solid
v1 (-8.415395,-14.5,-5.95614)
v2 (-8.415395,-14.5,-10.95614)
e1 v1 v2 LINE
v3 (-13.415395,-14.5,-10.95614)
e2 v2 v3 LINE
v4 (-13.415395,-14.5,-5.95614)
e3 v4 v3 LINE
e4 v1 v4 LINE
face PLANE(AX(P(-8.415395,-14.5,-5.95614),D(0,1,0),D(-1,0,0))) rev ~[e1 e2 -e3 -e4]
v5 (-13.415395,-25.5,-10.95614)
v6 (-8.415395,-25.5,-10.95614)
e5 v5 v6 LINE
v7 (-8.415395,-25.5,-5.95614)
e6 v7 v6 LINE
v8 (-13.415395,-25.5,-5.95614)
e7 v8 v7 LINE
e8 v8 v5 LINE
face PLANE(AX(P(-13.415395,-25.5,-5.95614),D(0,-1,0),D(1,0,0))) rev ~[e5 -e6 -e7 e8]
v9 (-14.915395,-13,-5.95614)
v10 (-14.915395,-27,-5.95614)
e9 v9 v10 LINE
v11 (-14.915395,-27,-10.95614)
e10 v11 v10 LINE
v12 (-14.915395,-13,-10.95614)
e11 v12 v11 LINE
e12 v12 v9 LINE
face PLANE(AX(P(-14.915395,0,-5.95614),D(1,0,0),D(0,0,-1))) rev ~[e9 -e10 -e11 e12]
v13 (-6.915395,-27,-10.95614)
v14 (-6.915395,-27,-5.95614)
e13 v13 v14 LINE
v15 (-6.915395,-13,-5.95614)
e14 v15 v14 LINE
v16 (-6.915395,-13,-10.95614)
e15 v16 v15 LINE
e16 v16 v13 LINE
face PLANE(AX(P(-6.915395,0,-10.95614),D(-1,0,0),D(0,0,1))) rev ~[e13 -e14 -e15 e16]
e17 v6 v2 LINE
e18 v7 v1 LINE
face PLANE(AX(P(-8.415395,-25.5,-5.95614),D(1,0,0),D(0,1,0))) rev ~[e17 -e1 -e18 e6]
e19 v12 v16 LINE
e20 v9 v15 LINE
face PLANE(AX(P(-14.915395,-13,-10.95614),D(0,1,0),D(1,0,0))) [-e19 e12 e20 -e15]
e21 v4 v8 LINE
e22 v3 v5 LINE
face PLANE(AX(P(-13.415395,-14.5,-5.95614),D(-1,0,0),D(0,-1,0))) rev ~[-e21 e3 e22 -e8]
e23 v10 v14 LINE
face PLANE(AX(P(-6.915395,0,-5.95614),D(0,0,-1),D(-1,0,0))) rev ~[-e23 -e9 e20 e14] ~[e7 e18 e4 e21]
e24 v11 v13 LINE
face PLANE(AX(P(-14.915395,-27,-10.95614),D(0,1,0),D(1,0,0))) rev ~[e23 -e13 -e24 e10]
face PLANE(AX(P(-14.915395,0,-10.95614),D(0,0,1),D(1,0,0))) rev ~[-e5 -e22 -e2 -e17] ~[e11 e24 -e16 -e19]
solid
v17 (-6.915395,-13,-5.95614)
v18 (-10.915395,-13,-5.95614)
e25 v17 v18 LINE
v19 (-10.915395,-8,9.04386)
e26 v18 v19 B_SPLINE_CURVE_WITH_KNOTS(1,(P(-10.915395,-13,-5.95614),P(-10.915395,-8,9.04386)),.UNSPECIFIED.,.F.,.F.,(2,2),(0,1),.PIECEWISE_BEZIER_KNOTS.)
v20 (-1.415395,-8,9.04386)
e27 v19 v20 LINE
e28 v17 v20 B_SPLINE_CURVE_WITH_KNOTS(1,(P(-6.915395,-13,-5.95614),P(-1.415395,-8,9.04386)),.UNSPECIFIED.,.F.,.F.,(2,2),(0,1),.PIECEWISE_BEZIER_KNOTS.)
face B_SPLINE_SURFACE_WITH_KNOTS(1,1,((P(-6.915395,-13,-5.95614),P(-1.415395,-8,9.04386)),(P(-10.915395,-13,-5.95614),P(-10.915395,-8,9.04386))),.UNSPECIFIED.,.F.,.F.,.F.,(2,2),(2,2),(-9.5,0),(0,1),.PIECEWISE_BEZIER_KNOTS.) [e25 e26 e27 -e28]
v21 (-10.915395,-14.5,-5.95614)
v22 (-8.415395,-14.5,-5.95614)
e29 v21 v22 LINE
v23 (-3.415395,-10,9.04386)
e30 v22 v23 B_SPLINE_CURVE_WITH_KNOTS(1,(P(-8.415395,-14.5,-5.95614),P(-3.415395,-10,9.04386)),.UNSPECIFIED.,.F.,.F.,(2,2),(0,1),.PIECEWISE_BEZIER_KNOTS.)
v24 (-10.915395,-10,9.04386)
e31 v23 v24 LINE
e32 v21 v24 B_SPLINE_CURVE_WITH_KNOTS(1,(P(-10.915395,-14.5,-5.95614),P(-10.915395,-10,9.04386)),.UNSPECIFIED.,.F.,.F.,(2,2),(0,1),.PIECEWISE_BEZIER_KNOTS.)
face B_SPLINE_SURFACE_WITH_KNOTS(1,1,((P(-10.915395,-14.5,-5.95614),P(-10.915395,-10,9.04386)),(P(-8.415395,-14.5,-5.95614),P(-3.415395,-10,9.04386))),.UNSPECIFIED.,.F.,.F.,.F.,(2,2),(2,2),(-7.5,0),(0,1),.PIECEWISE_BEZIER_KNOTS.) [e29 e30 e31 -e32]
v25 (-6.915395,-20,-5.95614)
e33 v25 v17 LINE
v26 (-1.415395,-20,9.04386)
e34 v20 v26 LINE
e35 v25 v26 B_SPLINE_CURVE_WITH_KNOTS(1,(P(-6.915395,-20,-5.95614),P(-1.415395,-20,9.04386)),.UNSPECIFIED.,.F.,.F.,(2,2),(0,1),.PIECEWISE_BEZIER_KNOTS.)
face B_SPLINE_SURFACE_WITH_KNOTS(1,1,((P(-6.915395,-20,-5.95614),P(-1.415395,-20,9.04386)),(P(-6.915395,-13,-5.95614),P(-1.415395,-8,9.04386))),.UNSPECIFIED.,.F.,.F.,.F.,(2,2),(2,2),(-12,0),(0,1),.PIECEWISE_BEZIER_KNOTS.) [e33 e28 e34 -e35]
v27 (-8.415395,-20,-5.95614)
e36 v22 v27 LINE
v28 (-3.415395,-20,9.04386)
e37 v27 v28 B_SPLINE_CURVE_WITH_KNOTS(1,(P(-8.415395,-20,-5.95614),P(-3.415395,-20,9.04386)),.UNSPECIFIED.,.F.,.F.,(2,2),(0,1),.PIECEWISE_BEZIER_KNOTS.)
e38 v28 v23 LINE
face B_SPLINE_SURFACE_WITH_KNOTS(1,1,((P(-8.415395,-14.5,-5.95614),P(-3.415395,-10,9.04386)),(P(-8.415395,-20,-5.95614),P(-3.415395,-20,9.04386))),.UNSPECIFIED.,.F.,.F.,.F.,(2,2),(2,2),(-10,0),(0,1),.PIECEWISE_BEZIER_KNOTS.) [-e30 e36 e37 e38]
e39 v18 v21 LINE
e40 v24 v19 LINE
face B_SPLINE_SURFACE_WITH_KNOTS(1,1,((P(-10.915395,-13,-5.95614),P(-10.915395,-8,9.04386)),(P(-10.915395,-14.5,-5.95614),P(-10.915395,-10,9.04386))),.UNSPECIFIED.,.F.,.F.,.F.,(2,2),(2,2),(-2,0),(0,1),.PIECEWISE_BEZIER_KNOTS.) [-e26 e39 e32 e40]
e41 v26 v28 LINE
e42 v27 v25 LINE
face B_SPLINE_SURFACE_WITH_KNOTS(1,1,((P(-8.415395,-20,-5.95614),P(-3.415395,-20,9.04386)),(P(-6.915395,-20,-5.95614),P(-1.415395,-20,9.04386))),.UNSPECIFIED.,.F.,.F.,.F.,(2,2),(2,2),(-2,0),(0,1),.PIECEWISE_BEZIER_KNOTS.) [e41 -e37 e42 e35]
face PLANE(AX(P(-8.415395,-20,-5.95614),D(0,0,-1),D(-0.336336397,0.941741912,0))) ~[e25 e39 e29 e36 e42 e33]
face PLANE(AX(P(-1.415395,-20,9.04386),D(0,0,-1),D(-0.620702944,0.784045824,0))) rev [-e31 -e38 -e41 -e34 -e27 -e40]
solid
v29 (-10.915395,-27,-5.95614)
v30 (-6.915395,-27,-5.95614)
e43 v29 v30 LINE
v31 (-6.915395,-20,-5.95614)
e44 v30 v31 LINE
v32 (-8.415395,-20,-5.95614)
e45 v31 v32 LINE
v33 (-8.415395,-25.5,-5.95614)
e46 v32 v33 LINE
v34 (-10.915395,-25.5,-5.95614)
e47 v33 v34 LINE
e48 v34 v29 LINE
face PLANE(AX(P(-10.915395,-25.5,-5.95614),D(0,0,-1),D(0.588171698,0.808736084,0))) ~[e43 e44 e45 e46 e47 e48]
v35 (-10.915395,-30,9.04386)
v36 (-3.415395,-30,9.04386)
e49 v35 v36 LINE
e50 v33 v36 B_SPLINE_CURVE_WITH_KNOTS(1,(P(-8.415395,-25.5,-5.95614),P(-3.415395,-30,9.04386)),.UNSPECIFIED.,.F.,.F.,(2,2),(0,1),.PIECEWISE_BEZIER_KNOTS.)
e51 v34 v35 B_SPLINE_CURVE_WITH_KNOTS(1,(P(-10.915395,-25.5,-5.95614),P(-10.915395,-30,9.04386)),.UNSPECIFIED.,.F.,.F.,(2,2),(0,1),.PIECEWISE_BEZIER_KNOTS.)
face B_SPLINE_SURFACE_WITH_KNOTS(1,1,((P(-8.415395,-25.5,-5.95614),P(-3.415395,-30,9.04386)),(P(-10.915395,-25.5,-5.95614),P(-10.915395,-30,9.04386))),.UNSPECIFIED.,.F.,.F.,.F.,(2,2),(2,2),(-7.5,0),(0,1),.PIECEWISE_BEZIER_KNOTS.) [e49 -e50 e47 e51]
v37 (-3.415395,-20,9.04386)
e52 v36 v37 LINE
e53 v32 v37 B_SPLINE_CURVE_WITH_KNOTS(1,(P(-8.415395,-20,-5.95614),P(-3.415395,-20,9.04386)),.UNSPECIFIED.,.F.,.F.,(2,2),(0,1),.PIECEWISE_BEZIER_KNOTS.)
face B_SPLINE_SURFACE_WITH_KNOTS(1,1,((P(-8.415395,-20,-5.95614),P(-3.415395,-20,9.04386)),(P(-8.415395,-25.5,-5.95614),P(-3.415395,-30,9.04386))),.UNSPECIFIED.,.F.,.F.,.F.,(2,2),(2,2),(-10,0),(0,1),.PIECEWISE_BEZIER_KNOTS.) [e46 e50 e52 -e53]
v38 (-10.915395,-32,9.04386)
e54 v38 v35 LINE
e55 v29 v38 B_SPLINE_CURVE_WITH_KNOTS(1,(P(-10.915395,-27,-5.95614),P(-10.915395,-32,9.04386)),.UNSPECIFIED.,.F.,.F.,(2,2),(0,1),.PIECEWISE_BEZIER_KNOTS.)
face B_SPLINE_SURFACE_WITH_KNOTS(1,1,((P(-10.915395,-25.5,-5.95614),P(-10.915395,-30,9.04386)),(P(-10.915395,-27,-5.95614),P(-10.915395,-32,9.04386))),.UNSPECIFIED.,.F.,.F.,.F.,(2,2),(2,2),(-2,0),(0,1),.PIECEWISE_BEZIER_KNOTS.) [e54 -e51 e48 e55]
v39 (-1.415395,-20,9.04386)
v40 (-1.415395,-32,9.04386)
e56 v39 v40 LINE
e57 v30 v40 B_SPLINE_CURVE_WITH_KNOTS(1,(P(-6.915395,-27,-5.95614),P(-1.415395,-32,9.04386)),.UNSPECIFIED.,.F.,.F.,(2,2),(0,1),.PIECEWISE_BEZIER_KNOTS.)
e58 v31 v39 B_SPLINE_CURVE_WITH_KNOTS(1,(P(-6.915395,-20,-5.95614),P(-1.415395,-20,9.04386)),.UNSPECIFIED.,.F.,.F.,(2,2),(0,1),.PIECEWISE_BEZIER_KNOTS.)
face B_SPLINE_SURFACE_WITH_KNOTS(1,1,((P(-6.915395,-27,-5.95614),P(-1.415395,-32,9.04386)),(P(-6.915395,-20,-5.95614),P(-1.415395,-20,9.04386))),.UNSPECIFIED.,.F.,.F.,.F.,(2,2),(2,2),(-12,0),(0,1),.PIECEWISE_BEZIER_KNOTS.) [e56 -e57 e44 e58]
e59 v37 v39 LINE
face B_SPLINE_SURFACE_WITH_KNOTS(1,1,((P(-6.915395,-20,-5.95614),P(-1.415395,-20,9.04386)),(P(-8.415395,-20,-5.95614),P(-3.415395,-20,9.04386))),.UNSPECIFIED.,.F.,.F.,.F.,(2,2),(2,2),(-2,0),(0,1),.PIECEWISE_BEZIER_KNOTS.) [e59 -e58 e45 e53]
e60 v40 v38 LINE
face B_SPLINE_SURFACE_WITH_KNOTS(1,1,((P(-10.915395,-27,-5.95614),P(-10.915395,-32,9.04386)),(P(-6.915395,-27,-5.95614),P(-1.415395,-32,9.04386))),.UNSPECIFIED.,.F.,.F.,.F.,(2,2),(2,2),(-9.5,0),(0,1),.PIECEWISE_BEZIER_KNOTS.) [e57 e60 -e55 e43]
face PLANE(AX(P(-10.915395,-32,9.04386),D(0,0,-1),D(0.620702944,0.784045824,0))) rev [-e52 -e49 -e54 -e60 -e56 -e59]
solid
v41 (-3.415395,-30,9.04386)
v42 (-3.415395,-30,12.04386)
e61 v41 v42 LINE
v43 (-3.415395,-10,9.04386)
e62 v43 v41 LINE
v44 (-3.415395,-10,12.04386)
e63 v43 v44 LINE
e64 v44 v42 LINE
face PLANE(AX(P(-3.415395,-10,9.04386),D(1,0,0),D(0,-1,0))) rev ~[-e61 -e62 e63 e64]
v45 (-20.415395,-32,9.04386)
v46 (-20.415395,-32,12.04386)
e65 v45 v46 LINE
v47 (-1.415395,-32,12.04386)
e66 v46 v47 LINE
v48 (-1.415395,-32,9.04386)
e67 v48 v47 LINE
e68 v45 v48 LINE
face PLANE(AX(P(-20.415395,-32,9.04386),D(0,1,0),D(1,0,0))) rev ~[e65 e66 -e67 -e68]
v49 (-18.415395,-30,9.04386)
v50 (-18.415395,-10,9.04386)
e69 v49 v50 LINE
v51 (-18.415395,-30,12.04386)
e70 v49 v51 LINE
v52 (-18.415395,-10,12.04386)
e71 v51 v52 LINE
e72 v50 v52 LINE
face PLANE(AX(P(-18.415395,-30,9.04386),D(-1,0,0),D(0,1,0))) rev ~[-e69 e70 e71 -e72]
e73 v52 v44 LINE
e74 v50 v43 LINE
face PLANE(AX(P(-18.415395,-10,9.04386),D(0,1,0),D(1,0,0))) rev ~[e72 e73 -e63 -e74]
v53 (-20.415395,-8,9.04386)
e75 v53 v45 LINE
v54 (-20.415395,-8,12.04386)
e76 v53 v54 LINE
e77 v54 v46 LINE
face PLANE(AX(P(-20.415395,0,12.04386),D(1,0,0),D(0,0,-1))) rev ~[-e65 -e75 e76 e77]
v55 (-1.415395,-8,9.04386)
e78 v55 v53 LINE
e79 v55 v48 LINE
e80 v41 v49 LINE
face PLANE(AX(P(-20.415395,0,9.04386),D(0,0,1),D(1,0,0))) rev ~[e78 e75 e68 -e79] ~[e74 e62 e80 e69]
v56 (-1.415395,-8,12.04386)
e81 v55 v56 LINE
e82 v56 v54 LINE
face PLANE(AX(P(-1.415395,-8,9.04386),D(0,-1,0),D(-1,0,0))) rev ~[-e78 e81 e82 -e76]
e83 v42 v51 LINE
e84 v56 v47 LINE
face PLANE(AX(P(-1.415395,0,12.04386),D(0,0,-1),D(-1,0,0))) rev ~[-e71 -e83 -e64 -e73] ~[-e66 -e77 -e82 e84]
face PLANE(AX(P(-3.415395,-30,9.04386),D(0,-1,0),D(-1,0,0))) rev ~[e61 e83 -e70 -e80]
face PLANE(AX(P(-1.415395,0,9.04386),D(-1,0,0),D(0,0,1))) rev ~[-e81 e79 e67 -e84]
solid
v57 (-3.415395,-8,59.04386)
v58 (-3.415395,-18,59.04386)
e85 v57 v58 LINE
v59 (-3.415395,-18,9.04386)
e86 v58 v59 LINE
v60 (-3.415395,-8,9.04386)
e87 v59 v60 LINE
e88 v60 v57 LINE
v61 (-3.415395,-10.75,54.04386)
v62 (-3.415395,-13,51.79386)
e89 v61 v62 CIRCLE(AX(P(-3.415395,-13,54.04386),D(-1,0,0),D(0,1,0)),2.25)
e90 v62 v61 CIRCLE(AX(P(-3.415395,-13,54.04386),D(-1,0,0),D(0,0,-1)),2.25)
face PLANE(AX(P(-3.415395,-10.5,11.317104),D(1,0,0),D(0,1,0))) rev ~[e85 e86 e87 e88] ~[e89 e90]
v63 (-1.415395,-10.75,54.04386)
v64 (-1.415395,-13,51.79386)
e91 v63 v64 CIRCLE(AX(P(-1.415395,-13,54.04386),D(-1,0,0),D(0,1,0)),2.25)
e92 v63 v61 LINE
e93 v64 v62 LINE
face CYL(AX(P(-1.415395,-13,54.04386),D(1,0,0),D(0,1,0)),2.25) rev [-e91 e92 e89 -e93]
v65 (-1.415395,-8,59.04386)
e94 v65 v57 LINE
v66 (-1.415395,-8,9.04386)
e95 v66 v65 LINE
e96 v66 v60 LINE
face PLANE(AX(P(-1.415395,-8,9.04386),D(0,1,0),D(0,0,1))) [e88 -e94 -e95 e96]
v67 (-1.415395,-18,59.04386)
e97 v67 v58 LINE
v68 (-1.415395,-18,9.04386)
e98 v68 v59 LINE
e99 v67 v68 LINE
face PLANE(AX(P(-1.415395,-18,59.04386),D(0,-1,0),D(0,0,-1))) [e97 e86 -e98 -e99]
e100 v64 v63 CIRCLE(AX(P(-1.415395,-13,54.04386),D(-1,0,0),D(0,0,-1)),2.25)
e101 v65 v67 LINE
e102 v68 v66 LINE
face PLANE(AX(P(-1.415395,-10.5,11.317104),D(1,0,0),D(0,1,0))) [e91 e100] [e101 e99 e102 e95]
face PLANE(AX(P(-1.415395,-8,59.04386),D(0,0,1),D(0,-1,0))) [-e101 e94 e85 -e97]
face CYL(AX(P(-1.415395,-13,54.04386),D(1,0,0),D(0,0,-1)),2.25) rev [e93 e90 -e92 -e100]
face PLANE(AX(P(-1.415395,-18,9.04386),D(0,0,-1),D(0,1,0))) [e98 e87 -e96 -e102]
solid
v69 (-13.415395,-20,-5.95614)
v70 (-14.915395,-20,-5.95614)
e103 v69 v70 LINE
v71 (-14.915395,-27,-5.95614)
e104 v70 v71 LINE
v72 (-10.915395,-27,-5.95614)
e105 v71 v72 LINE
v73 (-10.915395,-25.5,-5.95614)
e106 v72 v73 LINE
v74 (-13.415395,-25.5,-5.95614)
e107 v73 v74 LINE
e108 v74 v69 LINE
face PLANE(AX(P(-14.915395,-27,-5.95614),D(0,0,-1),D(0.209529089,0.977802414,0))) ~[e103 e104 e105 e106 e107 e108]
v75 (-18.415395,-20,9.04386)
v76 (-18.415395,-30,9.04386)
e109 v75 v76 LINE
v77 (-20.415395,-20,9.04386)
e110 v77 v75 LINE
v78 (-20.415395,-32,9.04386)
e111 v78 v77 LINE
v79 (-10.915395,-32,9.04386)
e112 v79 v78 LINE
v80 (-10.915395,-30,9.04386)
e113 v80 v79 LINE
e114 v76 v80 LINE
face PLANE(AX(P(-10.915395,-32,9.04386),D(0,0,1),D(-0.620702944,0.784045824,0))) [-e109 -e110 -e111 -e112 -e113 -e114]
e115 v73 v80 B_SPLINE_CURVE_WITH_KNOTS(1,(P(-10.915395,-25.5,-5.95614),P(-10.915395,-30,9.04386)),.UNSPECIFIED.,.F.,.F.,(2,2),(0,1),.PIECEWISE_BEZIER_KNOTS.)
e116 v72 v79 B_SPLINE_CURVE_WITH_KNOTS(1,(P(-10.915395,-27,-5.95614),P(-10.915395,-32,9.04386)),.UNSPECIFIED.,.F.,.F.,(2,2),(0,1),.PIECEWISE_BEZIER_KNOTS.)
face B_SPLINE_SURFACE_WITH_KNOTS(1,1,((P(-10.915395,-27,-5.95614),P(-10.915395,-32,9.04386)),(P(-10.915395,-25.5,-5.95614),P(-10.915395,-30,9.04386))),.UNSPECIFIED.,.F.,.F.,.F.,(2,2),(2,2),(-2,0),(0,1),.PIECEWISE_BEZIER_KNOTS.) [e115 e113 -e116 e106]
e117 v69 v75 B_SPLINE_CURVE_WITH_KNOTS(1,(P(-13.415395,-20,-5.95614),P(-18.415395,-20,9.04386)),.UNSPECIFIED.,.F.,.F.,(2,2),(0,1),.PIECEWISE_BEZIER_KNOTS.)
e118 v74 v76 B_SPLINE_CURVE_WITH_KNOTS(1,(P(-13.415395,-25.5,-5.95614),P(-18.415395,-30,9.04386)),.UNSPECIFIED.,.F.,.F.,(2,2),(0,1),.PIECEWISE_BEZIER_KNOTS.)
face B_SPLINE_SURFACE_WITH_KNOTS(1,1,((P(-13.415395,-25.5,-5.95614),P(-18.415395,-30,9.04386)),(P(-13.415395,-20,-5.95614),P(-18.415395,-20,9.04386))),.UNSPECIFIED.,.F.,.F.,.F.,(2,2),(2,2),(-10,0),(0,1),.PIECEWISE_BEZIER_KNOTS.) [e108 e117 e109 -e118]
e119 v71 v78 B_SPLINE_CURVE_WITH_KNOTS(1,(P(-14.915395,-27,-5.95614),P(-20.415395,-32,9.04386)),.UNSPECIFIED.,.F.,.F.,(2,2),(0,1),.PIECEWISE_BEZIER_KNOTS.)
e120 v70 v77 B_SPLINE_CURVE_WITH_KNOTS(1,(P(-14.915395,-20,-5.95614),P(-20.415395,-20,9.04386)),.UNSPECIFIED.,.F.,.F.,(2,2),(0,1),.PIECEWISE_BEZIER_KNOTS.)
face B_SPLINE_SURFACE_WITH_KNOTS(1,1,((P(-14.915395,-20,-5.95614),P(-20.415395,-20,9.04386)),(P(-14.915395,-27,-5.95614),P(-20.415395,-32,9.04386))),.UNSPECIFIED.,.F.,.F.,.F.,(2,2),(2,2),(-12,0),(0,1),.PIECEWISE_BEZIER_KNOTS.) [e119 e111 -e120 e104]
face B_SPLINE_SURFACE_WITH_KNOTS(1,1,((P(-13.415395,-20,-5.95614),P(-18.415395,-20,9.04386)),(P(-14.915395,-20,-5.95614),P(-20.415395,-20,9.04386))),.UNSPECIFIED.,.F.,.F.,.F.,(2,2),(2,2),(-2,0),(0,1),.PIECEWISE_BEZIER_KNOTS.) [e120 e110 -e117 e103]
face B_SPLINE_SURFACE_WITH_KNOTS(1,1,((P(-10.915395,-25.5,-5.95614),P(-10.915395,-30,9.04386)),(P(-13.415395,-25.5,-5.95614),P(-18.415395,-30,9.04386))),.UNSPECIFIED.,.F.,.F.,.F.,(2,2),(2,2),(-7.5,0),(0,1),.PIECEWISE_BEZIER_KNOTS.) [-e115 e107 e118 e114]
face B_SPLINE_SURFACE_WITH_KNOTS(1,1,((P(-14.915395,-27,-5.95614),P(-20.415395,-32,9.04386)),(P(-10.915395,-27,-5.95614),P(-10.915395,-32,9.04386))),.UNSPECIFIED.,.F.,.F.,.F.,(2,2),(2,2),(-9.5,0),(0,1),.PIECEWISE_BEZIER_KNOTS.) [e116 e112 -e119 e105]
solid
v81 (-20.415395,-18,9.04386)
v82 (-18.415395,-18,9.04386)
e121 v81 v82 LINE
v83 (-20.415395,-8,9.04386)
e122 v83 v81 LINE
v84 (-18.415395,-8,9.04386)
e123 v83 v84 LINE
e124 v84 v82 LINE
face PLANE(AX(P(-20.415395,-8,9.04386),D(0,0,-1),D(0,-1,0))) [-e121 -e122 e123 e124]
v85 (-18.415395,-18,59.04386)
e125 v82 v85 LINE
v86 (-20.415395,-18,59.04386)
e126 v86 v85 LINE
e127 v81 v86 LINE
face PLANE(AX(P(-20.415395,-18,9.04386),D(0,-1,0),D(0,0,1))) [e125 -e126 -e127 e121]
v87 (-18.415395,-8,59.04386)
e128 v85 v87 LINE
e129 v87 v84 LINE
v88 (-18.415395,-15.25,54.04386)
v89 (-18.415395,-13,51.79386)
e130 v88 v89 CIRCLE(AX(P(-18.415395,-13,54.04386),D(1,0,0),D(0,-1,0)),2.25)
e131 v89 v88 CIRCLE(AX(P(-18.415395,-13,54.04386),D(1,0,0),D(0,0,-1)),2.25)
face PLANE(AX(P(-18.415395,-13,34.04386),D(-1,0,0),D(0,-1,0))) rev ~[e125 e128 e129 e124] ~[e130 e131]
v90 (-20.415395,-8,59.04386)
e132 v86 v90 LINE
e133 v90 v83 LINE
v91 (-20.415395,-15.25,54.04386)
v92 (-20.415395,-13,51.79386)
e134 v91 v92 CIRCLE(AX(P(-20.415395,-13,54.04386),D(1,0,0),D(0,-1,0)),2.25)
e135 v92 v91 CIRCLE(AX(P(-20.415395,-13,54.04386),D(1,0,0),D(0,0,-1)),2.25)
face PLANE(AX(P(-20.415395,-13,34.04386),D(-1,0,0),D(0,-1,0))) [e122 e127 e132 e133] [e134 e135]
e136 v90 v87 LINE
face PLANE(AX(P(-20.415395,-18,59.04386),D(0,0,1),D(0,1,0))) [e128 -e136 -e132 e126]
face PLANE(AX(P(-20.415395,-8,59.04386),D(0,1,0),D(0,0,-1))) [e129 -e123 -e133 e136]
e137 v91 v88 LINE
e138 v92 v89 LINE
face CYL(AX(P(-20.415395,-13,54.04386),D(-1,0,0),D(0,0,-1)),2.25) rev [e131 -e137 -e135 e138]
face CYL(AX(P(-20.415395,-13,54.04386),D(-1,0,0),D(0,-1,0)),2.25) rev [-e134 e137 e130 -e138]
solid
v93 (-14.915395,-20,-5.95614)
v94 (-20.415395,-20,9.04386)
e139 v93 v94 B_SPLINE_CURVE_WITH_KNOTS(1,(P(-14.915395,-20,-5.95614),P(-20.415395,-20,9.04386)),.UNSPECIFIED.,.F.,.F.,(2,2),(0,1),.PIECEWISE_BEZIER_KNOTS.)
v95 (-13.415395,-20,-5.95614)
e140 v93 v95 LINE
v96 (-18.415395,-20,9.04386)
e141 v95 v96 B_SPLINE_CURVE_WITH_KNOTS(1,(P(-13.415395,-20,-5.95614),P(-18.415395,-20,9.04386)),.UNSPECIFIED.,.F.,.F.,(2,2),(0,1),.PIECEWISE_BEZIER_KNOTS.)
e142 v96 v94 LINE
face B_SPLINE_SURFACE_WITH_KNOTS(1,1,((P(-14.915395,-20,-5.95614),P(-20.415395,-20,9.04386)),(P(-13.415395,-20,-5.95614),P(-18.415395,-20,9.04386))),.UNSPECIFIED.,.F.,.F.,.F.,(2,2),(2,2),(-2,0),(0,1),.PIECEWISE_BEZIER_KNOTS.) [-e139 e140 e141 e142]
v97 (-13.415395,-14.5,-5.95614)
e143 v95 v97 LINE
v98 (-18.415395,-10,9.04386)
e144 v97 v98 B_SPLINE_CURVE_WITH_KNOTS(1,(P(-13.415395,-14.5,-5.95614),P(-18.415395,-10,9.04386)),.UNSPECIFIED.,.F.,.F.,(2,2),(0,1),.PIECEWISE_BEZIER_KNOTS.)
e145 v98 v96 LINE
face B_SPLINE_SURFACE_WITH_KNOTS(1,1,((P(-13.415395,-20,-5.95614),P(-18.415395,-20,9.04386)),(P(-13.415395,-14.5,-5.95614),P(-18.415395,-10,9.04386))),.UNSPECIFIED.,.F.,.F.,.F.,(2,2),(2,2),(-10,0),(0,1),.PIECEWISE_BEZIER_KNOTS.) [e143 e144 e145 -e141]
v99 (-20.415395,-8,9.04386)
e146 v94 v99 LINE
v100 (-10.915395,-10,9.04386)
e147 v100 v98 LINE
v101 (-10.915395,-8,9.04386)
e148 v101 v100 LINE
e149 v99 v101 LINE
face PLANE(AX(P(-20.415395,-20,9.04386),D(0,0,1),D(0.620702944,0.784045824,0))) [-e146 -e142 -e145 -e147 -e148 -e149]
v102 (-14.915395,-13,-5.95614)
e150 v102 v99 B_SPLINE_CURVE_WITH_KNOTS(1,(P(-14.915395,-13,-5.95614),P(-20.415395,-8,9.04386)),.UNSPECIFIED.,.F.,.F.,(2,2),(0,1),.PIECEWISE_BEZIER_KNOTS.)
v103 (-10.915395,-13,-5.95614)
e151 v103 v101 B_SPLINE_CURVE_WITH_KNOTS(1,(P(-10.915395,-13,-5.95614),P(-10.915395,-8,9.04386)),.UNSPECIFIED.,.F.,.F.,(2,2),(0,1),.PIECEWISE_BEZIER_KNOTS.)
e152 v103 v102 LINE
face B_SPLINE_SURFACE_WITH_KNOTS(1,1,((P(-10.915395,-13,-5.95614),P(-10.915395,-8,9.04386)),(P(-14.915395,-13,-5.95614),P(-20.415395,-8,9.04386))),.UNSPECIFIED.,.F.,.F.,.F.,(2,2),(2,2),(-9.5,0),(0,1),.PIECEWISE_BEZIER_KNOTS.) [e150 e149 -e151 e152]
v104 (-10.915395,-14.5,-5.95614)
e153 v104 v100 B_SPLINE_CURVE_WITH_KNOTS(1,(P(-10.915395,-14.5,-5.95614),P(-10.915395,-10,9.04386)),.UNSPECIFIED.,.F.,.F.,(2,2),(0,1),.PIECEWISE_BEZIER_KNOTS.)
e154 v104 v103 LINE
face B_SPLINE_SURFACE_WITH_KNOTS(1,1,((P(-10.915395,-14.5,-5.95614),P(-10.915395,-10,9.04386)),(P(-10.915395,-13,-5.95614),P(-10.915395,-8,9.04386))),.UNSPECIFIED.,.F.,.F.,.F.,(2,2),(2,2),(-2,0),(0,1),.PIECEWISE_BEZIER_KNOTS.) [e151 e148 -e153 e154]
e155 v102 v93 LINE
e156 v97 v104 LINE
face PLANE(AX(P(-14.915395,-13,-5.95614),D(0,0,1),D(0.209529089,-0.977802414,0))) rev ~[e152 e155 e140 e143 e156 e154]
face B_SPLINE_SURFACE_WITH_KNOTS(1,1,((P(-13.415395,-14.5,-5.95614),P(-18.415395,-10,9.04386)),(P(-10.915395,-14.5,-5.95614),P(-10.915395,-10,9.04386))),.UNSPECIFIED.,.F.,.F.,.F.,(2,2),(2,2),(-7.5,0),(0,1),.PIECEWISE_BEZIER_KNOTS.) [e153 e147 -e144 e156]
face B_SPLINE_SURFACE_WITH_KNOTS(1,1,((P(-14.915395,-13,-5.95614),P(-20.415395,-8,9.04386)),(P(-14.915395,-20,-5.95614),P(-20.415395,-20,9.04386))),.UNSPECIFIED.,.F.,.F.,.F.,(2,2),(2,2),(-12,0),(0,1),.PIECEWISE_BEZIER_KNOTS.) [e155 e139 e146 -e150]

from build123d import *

# Parameters (mm, degrees)
F1_DEPTH  = 40
F3_W      = 8
F3_H      = 13
F4_DEPTH  = 25
F2_W      = 9.5
F2_H      = 8
F5_DEPTH  = 25
F7_DEPTH  = 25
F6_W      = 2.5
F6_H      = 5.5
F8_DEPTH  = 25
F13_W     = 5
F13_H     = 4.5464889724
F14_DEPTH = 2
F16_DEPTH = 2


with BuildPart() as f1:
    # F0 (on Front) → F1 (new body)
    with BuildSketch(Plane.XZ):
        Polygon((-1.4153950295, 12.043859912), (-20.4153950295, 12.043859912), (-20.4153950295, 9.043859912), (-10.9153950295, 9.043859912), (-1.4153950295, 9.043859912), align=None)
    extrude(amount=F1_DEPTH)

    # F2 (on face) → F5 (cut)
    with BuildSketch(Plane(origin=(0, 0, 9.043859912), x_dir=(1, 0, 0), z_dir=(0, 0, -1))):
        with Locations((-6.1653950295, 36)):
            Rectangle(F2_W, F2_H)
        with Locations((-15.6653950295, 36)):
            Rectangle(F2_W, F2_H)
        Polygon((-1.4153950295, 0), (-1.4153950295, 8), (-10.9153950295, 8), (-20.4153950295, 8), (-20.4153950295, 0), (-10.9153950295, 0), align=None)
    extrude(amount=-F5_DEPTH, mode=Mode.SUBTRACT)

    # F2 (on face) → F7 (cut)
    with BuildSketch(Plane(origin=(0, 0, 9.043859912), x_dir=(1, 0, 0), z_dir=(0, 0, -1))):
        Polygon((-3.4153950295, 10), (-3.4153950295, 20), (-18.4153950295, 20), (-18.4153950295, 10), (-10.9153950295, 10), align=None)
        Polygon((-18.4153950295, 20), (-3.4153950295, 20), (-3.4153950295, 30), (-10.9153950295, 30), (-18.4153950295, 30), align=None)
    extrude(amount=-F7_DEPTH, mode=Mode.SUBTRACT)


with BuildPart() as f1b:
    # F0 (on Front) → F1, piece 2 (new body)
    with BuildSketch(Plane.XZ):
        Polygon((-6.9153950295, -5.956140088), (-10.9153950295, -5.956140088), (-14.9153950295, -5.956140088), (-14.9153950295, -10.956140088), (-6.9153950295, -10.956140088), align=None)
    extrude(amount=F1_DEPTH)

    # F3 (on face) → F4 (cut)
    with BuildSketch(Plane(origin=(0, 0, -10.956140088), x_dir=(1, 0, 0), z_dir=(0, 0, -1))):
        with Locations((-10.9153950295, 33.5)):
            Rectangle(F3_W, F3_H)
        with Locations((-10.9153950295, 6.5)):
            Rectangle(F3_W, F3_H)
    extrude(amount=-F4_DEPTH, mode=Mode.SUBTRACT)

    # F6 (on face) → F8 (cut)
    with BuildSketch(Plane.XY.offset(-5.956140088)):
        with Locations((-12.1653950295, -17.25)):
            Rectangle(F6_W, F6_H)
        with Locations((-9.6653950295, -17.25)):
            Rectangle(F6_W, F6_H)
        with Locations((-9.6653950295, -22.75)):
            Rectangle(F6_W, F6_H)
        with Locations((-12.1653950295, -22.75)):
            Rectangle(F6_W, F6_H)
    extrude(amount=-F8_DEPTH, mode=Mode.SUBTRACT)


with BuildPart() as f9:
    # F6 (on face) → F9 section 0
    with BuildSketch(Plane.XY.offset(-5.956140088)):
        Polygon((-14.9153950295, -13), (-14.9153950295, -20), (-13.4153950295, -20), (-13.4153950295, -14.5), (-10.9153950295, -14.5), (-10.9153950295, -13), align=None)
    # F2 (on face) → F9 section 1
    with BuildSketch(Plane(origin=(0, 0, 9.043859912), x_dir=(1, 0, 0), z_dir=(0, 0, -1))):
        Polygon((-18.4153950295, 10), (-18.4153950295, 20), (-20.4153950295, 20), (-20.4153950295, 8), (-10.9153950295, 8), (-10.9153950295, 10), align=None)
    loft()


with BuildPart() as f10:
    # F6 (on face) → F10 section 0
    with BuildSketch(Plane.XY.offset(-5.956140088)):
        Polygon((-8.4153950295, -20), (-6.9153950295, -20), (-6.9153950295, -13), (-10.9153950295, -13), (-10.9153950295, -14.5), (-8.4153950295, -14.5), align=None)
    # F2 (on face) → F10 section 1
    with BuildSketch(Plane(origin=(0, 0, 9.043859912), x_dir=(1, 0, 0), z_dir=(0, 0, -1))):
        Polygon((-1.4153950295, 8), (-1.4153950295, 20), (-3.4153950295, 20), (-3.4153950295, 10), (-10.9153950295, 10), (-10.9153950295, 8), align=None)
    loft()


with BuildPart() as f11:
    # F6 (on face) → F11 section 0
    with BuildSketch(Plane.XY.offset(-5.956140088)):
        Polygon((-10.9153950295, -25.5), (-10.9153950295, -27), (-6.9153950295, -27), (-6.9153950295, -20), (-8.4153950295, -20), (-8.4153950295, -25.5), align=None)
    # F2 (on face) → F11 section 1
    with BuildSketch(Plane(origin=(0, 0, 9.043859912), x_dir=(1, 0, 0), z_dir=(0, 0, -1))):
        Polygon((-3.4153950295, 20), (-1.4153950295, 20), (-1.4153950295, 32), (-10.9153950295, 32), (-10.9153950295, 30), (-3.4153950295, 30), align=None)
    loft()


with BuildPart() as f12:
    # F6 (on face) → F12 section 0
    with BuildSketch(Plane.XY.offset(-5.956140088)):
        Polygon((-14.9153950295, -27), (-10.9153950295, -27), (-10.9153950295, -25.5), (-13.4153950295, -25.5), (-13.4153950295, -20), (-14.9153950295, -20), align=None)
    # F2 (on face) → F12 section 1
    with BuildSketch(Plane(origin=(0, 0, 9.043859912), x_dir=(1, 0, 0), z_dir=(0, 0, -1))):
        Polygon((-20.4153950295, 20), (-18.4153950295, 20), (-18.4153950295, 30), (-10.9153950295, 30), (-10.9153950295, 32), (-20.4153950295, 32), align=None)
    loft()


with BuildPart() as f14:
    # F13 (on face) → F14 (new body)
    with BuildSketch(Plane.YZ.offset(-1.4153950295)):
        with Locations((-10.5, 11.3171043982)):
            Rectangle(F13_W, F13_H)
        Polygon((-18, 9.043859912), (-13, 9.043859912), (-13, 13.5903488845), (-8, 13.5903488845), (-8, 59.043859912), (-18, 59.043859912), align=None)
        with BuildLine():
            ThreePointArc((-10.75, 54.043859912), (-11.4090097423, 52.4528696544), (-13, 51.793859912))
            ThreePointArc((-13, 51.793859912), (-14.5909902577, 55.6348501697), (-10.75, 54.043859912))
        make_face(mode=Mode.SUBTRACT)
    extrude(amount=-F14_DEPTH)


with BuildPart() as f16:
    # F15 (on face) → F16 (new body)
    with BuildSketch(Plane(origin=(-20.4153950295, 0, 0), x_dir=(0, -1, 0), z_dir=(-1, 0, 0))):
        Polygon((8, 59.043859912), (8, 9.043859912), (13, 9.043859912), (18, 9.043859912), (18, 59.043859912), align=None)
        with BuildLine():
            ThreePointArc((15.25, 54.043859912), (14.5909902577, 52.4528696544), (13, 51.793859912))
            ThreePointArc((13, 51.793859912), (11.4090097423, 55.6348501697), (15.25, 54.043859912))
        make_face(mode=Mode.SUBTRACT)
    extrude(amount=-F16_DEPTH)


solid = Compound([f1.part, f1b.part, f9.part, f10.part, f11.part, f12.part, f14.part, f16.part])
